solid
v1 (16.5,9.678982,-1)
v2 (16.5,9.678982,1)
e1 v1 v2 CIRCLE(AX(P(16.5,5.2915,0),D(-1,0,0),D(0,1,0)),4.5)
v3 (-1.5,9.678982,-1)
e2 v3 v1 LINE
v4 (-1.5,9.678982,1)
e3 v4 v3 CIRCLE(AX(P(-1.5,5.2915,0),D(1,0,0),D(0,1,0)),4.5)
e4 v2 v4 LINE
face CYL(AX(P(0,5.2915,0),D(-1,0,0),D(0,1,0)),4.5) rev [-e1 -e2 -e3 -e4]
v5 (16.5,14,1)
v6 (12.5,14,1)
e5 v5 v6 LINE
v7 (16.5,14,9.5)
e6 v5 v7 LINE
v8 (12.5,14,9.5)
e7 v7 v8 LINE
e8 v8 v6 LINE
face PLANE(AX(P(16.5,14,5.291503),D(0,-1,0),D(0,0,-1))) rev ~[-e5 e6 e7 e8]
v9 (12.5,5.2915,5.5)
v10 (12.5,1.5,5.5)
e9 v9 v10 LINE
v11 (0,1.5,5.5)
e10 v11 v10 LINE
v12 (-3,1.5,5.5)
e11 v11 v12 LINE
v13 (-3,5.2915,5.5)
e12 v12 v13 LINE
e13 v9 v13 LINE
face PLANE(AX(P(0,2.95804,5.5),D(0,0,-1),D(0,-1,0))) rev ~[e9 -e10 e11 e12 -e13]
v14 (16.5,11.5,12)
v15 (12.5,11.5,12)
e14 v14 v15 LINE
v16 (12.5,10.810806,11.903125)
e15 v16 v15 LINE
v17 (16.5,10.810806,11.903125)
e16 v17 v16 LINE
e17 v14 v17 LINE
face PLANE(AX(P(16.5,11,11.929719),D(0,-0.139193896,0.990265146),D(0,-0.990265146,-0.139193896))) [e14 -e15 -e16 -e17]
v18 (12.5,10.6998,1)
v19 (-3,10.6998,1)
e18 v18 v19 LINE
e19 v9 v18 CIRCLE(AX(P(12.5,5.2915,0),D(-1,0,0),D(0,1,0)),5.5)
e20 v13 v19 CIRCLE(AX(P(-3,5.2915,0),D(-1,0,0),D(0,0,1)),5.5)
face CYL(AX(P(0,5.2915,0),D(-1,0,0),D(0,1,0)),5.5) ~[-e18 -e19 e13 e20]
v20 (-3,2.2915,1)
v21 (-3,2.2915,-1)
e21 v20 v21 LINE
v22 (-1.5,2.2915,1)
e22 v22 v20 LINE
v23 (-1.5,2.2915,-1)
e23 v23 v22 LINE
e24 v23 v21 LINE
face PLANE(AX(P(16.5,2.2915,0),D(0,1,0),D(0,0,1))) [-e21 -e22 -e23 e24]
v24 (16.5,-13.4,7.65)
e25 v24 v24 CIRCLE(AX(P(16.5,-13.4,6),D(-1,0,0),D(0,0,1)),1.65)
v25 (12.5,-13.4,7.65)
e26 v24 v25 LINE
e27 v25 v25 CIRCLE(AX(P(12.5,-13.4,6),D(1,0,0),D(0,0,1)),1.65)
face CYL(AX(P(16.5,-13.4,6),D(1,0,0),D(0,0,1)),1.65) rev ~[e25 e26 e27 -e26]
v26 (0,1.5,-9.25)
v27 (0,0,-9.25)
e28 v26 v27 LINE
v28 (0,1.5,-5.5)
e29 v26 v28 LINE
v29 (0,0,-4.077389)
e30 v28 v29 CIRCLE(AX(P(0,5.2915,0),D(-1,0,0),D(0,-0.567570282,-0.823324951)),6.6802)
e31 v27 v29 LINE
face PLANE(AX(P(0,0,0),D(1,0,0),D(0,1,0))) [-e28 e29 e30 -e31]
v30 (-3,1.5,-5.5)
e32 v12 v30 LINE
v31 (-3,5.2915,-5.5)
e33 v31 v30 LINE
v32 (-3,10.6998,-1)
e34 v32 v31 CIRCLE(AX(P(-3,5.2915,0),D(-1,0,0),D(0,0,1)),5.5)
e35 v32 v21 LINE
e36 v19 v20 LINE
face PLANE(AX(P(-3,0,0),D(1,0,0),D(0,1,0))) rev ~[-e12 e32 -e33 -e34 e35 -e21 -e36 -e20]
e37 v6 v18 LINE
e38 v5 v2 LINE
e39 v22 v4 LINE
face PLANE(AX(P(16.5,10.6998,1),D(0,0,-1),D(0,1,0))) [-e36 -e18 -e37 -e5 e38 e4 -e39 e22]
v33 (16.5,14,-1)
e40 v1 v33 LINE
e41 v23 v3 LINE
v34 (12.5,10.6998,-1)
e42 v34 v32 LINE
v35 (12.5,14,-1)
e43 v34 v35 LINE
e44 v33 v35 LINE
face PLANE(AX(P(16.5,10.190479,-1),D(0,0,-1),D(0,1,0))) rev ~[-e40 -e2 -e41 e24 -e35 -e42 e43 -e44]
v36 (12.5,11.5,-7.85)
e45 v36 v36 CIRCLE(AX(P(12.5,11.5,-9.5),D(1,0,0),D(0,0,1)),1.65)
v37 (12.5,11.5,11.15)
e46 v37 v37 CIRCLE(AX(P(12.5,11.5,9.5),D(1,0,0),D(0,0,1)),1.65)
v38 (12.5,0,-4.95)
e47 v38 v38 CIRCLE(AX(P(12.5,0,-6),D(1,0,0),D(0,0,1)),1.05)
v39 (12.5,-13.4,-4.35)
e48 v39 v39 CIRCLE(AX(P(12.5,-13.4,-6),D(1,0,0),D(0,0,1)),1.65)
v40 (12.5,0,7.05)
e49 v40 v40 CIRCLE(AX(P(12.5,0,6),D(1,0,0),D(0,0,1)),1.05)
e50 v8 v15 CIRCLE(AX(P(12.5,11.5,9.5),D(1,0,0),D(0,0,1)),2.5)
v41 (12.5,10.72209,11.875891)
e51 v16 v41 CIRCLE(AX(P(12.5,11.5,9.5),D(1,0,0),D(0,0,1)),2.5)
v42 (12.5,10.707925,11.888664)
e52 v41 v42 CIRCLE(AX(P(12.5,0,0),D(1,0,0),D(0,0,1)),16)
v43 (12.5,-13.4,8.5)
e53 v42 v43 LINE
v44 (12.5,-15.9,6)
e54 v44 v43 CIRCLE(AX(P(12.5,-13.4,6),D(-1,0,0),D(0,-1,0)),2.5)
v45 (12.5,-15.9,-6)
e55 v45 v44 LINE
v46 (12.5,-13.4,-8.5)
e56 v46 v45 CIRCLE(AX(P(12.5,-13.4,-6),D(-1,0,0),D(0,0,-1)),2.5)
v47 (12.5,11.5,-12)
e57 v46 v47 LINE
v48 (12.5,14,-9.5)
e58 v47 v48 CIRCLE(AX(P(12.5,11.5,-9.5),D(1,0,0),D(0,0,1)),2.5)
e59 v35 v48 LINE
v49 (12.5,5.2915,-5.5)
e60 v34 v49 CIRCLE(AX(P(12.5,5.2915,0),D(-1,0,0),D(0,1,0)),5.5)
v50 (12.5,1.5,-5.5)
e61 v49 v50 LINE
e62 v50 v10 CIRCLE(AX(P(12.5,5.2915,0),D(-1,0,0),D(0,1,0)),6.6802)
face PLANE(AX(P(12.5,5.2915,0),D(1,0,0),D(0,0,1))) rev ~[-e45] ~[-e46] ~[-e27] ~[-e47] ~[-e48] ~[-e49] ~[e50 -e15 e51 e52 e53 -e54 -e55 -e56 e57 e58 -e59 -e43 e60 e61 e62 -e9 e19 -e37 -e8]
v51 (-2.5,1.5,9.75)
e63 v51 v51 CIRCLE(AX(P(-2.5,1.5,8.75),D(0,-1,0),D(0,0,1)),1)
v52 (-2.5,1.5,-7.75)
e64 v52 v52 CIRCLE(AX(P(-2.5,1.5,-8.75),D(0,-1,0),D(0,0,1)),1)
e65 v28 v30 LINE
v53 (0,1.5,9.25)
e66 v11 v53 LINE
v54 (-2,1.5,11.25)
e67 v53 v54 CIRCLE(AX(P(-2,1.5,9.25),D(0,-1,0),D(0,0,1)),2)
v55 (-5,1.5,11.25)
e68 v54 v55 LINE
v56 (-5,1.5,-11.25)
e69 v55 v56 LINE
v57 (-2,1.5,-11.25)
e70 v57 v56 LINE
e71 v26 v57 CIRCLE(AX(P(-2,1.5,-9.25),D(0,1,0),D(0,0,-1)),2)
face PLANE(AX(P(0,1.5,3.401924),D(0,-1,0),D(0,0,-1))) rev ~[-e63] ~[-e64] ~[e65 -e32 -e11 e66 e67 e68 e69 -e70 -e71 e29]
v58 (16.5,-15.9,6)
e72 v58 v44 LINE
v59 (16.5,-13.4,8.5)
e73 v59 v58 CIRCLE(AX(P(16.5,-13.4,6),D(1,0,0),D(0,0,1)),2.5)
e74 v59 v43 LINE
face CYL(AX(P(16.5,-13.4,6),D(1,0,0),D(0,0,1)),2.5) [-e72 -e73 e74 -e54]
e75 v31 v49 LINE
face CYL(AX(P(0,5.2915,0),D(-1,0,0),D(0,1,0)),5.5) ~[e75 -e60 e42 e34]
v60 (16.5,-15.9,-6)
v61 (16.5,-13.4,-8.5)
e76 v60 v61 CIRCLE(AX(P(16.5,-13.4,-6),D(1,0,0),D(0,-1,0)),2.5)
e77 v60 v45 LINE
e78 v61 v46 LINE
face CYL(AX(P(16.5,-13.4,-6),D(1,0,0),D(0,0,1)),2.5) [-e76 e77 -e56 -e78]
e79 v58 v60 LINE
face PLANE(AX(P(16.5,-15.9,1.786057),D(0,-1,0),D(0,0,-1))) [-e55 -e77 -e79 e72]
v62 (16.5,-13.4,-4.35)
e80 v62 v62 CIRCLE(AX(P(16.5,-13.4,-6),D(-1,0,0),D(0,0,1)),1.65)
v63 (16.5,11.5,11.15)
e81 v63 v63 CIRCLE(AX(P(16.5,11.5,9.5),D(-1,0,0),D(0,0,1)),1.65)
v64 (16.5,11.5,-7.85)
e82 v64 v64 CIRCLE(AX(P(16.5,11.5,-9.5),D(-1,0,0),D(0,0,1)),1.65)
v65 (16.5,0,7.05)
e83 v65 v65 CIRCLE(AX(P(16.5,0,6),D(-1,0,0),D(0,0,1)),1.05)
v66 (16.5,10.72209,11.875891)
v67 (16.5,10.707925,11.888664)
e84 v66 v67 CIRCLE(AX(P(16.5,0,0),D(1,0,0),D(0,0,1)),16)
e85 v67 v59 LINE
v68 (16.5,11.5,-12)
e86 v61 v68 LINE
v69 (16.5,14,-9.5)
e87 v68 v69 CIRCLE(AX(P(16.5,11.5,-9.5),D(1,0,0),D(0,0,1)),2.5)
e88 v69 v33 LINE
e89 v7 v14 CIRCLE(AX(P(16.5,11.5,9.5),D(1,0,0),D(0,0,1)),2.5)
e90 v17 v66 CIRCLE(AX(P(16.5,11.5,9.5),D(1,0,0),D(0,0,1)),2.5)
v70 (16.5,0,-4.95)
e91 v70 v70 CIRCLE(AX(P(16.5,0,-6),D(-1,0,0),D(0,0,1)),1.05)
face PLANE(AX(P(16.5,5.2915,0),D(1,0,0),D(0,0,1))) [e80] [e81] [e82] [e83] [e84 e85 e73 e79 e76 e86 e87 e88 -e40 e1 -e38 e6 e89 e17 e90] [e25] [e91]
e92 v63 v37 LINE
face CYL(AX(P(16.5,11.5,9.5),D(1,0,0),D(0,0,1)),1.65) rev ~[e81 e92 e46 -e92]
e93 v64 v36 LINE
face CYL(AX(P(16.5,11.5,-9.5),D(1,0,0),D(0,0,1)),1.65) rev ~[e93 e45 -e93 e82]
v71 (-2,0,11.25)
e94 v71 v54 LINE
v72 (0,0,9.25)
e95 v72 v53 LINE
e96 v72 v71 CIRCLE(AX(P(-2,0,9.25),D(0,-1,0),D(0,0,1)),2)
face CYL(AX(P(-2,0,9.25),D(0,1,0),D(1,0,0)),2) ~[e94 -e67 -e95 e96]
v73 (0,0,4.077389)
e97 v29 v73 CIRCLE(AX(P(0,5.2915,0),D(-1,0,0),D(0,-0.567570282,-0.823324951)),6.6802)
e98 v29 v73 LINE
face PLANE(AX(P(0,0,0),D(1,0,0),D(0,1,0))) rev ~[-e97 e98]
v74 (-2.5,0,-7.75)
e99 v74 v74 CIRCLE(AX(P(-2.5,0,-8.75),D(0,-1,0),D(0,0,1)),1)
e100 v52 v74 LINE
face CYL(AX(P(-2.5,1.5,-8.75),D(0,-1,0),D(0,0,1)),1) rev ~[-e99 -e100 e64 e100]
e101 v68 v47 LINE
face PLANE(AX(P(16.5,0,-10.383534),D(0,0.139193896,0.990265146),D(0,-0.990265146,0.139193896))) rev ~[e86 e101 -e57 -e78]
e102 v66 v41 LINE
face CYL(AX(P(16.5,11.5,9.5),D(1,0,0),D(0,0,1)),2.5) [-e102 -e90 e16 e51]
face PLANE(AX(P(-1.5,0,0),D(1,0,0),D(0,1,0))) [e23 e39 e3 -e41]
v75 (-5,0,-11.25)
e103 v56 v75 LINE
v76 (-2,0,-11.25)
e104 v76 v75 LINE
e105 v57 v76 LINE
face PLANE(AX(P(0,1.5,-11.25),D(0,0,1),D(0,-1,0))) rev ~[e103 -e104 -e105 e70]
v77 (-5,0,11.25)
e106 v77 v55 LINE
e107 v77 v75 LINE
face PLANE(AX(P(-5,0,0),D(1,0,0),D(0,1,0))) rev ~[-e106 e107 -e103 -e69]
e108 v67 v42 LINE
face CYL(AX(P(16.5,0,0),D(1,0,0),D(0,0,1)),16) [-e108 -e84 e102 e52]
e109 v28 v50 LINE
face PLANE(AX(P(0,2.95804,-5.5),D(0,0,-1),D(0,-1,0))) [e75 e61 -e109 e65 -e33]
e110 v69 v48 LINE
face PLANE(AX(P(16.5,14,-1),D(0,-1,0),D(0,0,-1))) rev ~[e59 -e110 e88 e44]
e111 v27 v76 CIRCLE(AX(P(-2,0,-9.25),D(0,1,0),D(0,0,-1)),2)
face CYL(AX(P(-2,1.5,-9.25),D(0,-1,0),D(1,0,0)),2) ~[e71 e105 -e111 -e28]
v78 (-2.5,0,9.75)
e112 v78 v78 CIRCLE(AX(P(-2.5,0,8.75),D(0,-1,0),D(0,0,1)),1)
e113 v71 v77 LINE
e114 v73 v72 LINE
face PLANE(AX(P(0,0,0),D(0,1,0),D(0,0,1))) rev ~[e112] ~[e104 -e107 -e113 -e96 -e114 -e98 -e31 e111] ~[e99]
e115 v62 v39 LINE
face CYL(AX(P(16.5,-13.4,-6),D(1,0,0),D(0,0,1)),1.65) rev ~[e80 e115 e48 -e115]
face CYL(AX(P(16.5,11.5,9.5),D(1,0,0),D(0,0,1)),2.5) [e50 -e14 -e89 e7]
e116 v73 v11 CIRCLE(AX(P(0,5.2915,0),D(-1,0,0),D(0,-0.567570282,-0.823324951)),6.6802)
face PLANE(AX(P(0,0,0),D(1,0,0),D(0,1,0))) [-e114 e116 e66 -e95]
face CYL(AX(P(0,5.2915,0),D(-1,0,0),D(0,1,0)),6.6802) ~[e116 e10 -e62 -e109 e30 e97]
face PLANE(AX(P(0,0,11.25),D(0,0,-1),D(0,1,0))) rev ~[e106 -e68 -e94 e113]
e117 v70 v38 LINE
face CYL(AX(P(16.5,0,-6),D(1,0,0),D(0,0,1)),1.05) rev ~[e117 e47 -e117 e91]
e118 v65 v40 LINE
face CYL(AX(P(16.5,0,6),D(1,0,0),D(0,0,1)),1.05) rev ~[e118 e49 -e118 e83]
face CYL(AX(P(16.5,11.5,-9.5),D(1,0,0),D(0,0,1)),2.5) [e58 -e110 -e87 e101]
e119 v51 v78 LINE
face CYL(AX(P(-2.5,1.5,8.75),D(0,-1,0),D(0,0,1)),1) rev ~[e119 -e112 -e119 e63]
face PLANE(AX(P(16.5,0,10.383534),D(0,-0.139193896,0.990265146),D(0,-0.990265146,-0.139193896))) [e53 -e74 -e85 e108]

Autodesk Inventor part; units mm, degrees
ref_plane "YZ Plane" through (0, 0, 0) normal (1, 0, 0) x (0, 1, 0)
ref_plane "XZ Plane" through (0, 0, 0) normal (0, 1, 0) x (-1, 0, 0)
ref_plane "XY Plane" through (0, 0, 0) normal (0, 0, 1) x (1, 0, 0)
sketch "スケッチ2" plane through (0, 0, 0) normal (0, 1, 0) x (-1, 0, 0)
  line L0 (-32.5, -11.25) -> (32.5, -11.25)
  line L1 (32.5, -11.25) -> (32.5, 11.25)
  line L2 (32.5, 11.25) -> (-32.5, 11.25)
  line L3 (-32.5, 11.25) -> (-32.5, -11.25)
  line L4 (-32.5, -11.25) -> (32.5, 11.25) construction
  line L5 (32.5, -11.25) -> (-32.5, 11.25) construction
  line L6 (-30, -8.75) -> (30, -8.75)
  line L7 (30, -8.75) -> (30, 8.75)
  line L8 (30, 8.75) -> (-30, 8.75)
  line L9 (-30, 8.75) -> (-30, -8.75)
  line L10 (-30, -8.75) -> (30, 8.75) construction
  line L11 (30, -8.75) -> (-30, 8.75) construction
  circle A0 centre (30, 8.75) radius 2.5
  circle A1 centre (30, -8.75) radius 2.5
  circle A2 centre (-30, 8.75) radius 2.5
  circle A3 centre (-30, -8.75) radius 2.5
  line L12 (-115, -18.25) -> (115, -18.25)
  line L13 (115, -18.25) -> (115, 18.25)
  line L14 (115, 18.25) -> (-115, 18.25)
  line L15 (-115, 18.25) -> (-115, -18.25)
  line L16 (-115, -18.25) -> (115, 18.25) construction
  line L17 (115, -18.25) -> (-115, 18.25) construction
  line L18 (-95, -18.25) -> (95, -18.25)
  line L19 (95, -18.25) -> (95, 18.25)
  line L20 (95, 18.25) -> (-95, 18.25)
  line L21 (-95, 18.25) -> (-95, -18.25)
  line L22 (-95, -18.25) -> (95, 18.25) construction
  line L23 (95, -18.25) -> (-95, 18.25) construction
  point P0 (0, 0)
  dimension "d10" = 65
  dimension "d11" = 22.5
  dimension "d12" = 60
  dimension "d13" = 17.5
  dimension "d14" = 230
  dimension "d15" = 36.5
  dimension "d16" = 190
sketch "スケッチ4" plane through (0, 0, 0) normal (1, 0, 0) x (0, 1, 0)
  point P0 (0, 0)
sketch "スケッチ5" plane through (0, 0, 0) normal (1, 0, 0) x (0, 1, 0)
  circle A0 centre (0, 0) radius 18.25
  line L0 (0, 0) -> (0, 6)
  line L1 (0, 6) -> (0, -6)
  circle A1 centre (0, 6) radius 3
  circle A2 centre (0, -6) radius 9
  circle A3 centre (0, 6) radius 9
  circle A4 centre (0, -6) radius 3
  line L2 (0, 6) -> (5.2915, 0)
  circle A5 centre (5.2915, 0) radius 5
  circle A6 centre (5.2915, 0) radius 4.5
  circle A7 centre (5.2915, 0) radius 5.5
  line L3 (0, 0) -> (0, 11.25)
  line L4 (0, 11.25) -> (0, -11.25)
  line L5 (5.2915, 5.5) -> (5.2915, -5.5)
  line L6 (0, 11.25) -> (-1.2, 11.25)
  line L7 (-1.2, 11.25) -> (-1.2, -11.25)
  line L8 (-1.2, -11.25) -> (0, -11.25)
  line L9 (-1.2, 11.25) -> (-9.2, 11.25)
  line L10 (-1.2, -11.25) -> (-9.2, -11.25)
  line L11 (-9.2, -11.25) -> (-9.2, 11.25)
  line L12 (-9.2, 11.25) -> (-10.4, 11.25)
  line L13 (-10.4, 11.25) -> (-10.4, -11.25)
  line L14 (-10.4, -11.25) -> (-9.2, -11.25)
  circle A8 centre (0, 0) radius 16
  line L15 (0, 11.25) -> (1.5, 11.25)
  line L16 (1.5, 11.25) -> (1.5, -11.25)
  line L17 (1.5, -11.25) -> (0, -11.25)
  line L18 (5.2915, 5.5) -> (1.5, 5.5)
  line L19 (5.2915, -5.5) -> (1.5, -5.5)
  circle A9 centre (5.2915, 0) radius 6.6802
  point P0 (0, 1.5)
  point P1 (0, -1.5)
  point P2 (1.5, -3.9843)
  point P3 (1.5, 3.9843)
  dimension "d28" = 36.5
  dimension "d29" = 6
  dimension "d30" = 12
  dimension "d31" = 6
  dimension "d32" = 18
  dimension "d33" = 8
  dimension "d34" = 9
  dimension "d35" = 11
  dimension "d36" = 11.25
  dimension "d37" = 22.5
  dimension "d39" = 1.2
  dimension "d40" = 8
  dimension "d41" = 1.2
  dimension "d42" = 32
  dimension "d43" = 1.5
extrude "押し出し1" add sketch "スケッチ5" against normal blind 5 contours L0 A7 A2 A5 A3 L1 | L0 A2 A7 | A7 A3 L1 | L0 A9 L2 L16 A7 A1 | A1 A7 A2 | A7 A1 L16 A5 A2 | A4 A7 L16 A9 L1 | A3 A7 A4 | A3 A5 L16 A4 A7 | L0 L2 A9 | A7 L16 A1 | A5 L16 A2 | A2 L16 A6 A3 A5 | A9 L16 A4 L4 L1 | A4 L16 A7 | A3 L16 A5 | L3 A1 L16 A9 L2 | A9 L16 L2 | L3 L15 L16 A1 | L16 A6 | A4 L16 L17 L4 picked at (1.4091, -3.6973)
extrude "押し出し2" add sketch "スケッチ5" against normal blind 3 contours L0 A7 A2 A5 A3 L1 | A7 A1 L16 A5 A2 | A3 A5 L16 A4 A7 | A7 L16 A1 | A5 L16 A2 | A2 L16 A6 A3 A5 | A4 L16 A7 | A3 L16 A5 | L16 A7 L2 A1 | A1 A5 L16 | L16 L2 A7 | L16 A5 L2 A6 A2 | A2 A6 L16 | L16 A7 A4 L19 | L16 A5 A4 | A4 A7 L16 | L16 A6 A3 | A3 A6 L5 A5 L16 | L16 L18 A1 A7 L2 | L2 A7 A1 | A5 L5 A6 L2 | A1 A7 L5 A5 | A6 L2 A2 | A2 L2 L5 A3 A6 L16 | L16 A6 | A4 A7 L19 | A5 L5 A7 A4 | A3 L5 A6 | L18 A7 A1 | A6 L5 A2 L2 | L5 A7 A3 A5 | A5 A3 A6 L5 | A2 L5 L2 | L5 A5 A2 A7 | L5 A6 A2 A5 | L5 A2 A3 | A3 A2 A6 L5 | A6 A3 A2 L5 | A5 A2 A6 A3 | A3 A7 A2 A5 | A3 A6 A2
extrude "押し出し3" add sketch "スケッチ5" along normal blind 16.5 contours L1 A7 L0 | L0 A7 A2 A5 A3 L1 | A7 L1 A3 A9 L7 A2 L0 | L0 A2 A7 | A7 A3 L1 | A1 A9 L0 | A2 A9 A1 | L0 A9 L2 L16 A7 A1 | A1 A7 A2 | A7 A1 L16 A5 A2 | A4 A7 L16 A9 L1 | A4 A9 A3 | A3 A7 A4 | L1 A9 A4 | A3 A5 L16 A4 A7 | A7 L16 A1 | A5 L16 A2 | A2 L16 A6 A3 A5 | A4 L16 A7 | A3 L16 A5 | A9 L16 L2 | L16 A7 L2 A1 | A1 A5 L16 | L16 L2 A7 | L7 A9 | L16 A5 L2 A6 A2 | A2 A6 L16 | L16 A7 A4 L19 | L16 A5 A4 | A4 A7 L16 | L16 A6 A3 | A3 A6 L5 A5 L16 | L16 L18 A1 A7 L2 | L2 A7 A1 | A5 L5 A6 L2 | A1 A7 L5 A5 | A6 L2 A2 | A2 L2 L5 A3 A6 L16 | L16 A6 | A4 A7 L19 | A5 L5 A7 A4 | A3 L5 A6 | L18 A7 A1 | A6 L5 A2 L2 | L5 A7 A3 A5 | A5 A3 A6 L5 | A2 L5 L2 | L5 A5 A2 A7 | L5 A6 A2 A5 | L5 A2 A3 | A3 A2 A6 L5 | A6 A3 A2 L5 | A5 A2 A6 A3 | A3 A7 A2 A5 | A3 A6 A2
extrude "押し出し4" cut sketch "スケッチ5" along normal blind 16.5 contours A6 L2 A2 | A2 L2 L5 A3 A6 L16 | L16 A6 | A3 L5 A6 | A6 L5 A2 L2 | A2 L5 L2 | L5 A2 A3 | A3 A2 A6 L5 | A6 A3 A2 L5 | A3 A6 A2
extrude "押し出し5" cut sketch "スケッチ5" against normal blind 1.5 contours A6 L2 A2 | A2 L2 L5 A3 A6 L16 | L16 A6 | A3 L5 A6 | A6 L5 A2 L2 | A2 L5 L2 | L5 A2 A3 | A3 A2 A6 L5 | A6 A3 A2 L5 | A3 A6 A2
sketch "スケッチ6" plane through (16.5, 5.2915, 0) normal (1, 0, 0) x (0, 0, 1)
  line L0 (0, 5.2915) -> (6, 5.2915)
  line L1 (-11.25, 5.2915) -> (11.25, 5.2915) projected
  line L2 (6, 5.2915) -> (-6, 5.2915)
  circle A0 centre (6, 5.2915) radius 1.05
  circle A1 centre (-6, 5.2915) radius 1.05
  circle A2 centre (0, 5.2915) radius 16
  circle A3 centre (0, 0) radius 5
  line L3 (0, 0) -> (0, 3)
  line L4 (0, 3) -> (0, -5.5)
  arc A4 (-5.5, 0) -> (5.5, 0) centre (0, 0) ccw projected
  line L5 (0, 3) -> (1, 3)
  line L6 (1, 3) -> (-1, 3)
  line L7 (-1, 3) -> (-1, -5.4083)
  line L8 (1, 3) -> (1, -5.4083)
  circle A5 centre (6, 5.2915) radius 9
  circle A6 centre (-6, 5.2915) radius 9
  line L9 (0, 5.2915) -> (0, -2.7085)
  circle A7 centre (0, -2.7085) radius 8
  circle A8 centre (6, 5.2915) radius 10
  circle A9 centre (-6, 5.2915) radius 10
  line L10 (0, 5.2915) -> (0, -5.7085)
  line L11 (0, -5.7085) -> (-11.619, -5.7085)
  line L12 (0, -5.7085) -> (11.619, -5.7085)
  line L13 (0, -5.7085) -> (9.5, -5.7085)
  line L14 (9.5, -5.7085) -> (-9.5, -5.7085)
  circle A10 centre (0, 5.2915) radius 18
  line L15 (1, -5.4083) -> (1, -8.2085)
  line L16 (-1, -5.4083) -> (-1, -8.2085)
  line L17 (0, 5.2915) -> (0, 6.4915)
  line L18 (0, 6.4915) -> (0, 14.4915)
  line L19 (0, 14.4915) -> (0, 15.6915)
  line L20 (0, 15.6915) -> (-11.25, 15.6915)
  line L21 (-11.25, 15.6915) -> (11.25, 15.6915)
  line L22 (11.25, 15.6915) -> (11.25, 14.4915)
  line L23 (11.25, 14.4915) -> (0, 14.4915)
  line L24 (-11.25, 14.4915) -> (-11.25, 15.6915)
  line L25 (0, 14.4915) -> (-11.25, 14.4915)
  line L26 (0, 15.6915) -> (8.75, 15.6915)
  line L27 (8.75, 15.6915) -> (-8.75, 15.6915)
  line L28 (11.25, 15.6915) -> (11.25, 17.1915)
  line L29 (11.25, 17.1915) -> (-11.25, 17.1915)
  line L30 (-11.25, 17.1915) -> (-11.25, 15.6915)
  line L31 (6, 17.1915) -> (6, 18.6915)
  line L32 (-6, 17.1915) -> (-6, 18.6915)
  circle A11 centre (6, 18.6915) radius 2.5
  circle A12 centre (-6, 18.6915) radius 2.5
  line L33 (6, 21.1915) -> (-6, 21.1915)
  line L34 (9.5, -5.7085) -> (12, -5.7085)
  line L35 (-9.5, -5.7085) -> (-12, -5.7085)
  line L36 (6, 18.6915) -> (8.5, 18.6915)
  line L37 (-6, 18.6915) -> (-8.5, 18.6915)
  circle A13 centre (0, 0) radius 4.5
  circle A14 centre (-6, 5.2915) radius 1.5
  circle A15 centre (6, 5.2915) radius 1.5
  circle A16 centre (6, 18.6915) radius 1.65
  circle A17 centre (-6, 18.6915) radius 1.65
  line L38 (9.5, -5.7085) -> (9.5, -6.2085)
  line L39 (9.5, -6.2085) -> (-9.5, -6.2085)
  line L40 (-9.5, -6.2085) -> (-9.5, -5.7085)
  circle A18 centre (-9.5, -6.2085) radius 1.65
  circle A19 centre (9.5, -6.2085) radius 1.65
  circle A20 centre (9.5, -6.2085) radius 2.5
  circle A21 centre (-9.5, -6.2085) radius 2.5
  line L41 (-12, -6.2085) -> (-8.5, 18.6915)
  line L42 (12, -6.2085) -> (8.5, 18.6915)
  line L43 (9.5, -8.7085) -> (-9.5, -8.7085)
  line L44 (1, -8.7085) -> (1, -8.0358)
  line L45 (-1, -8.7085) -> (-1, -8.2085)
  point P0 (1, -4.3875)
  point P1 (-1, -4.3875)
  point P2 (-4.4567, 20.6583)
  point P3 (-8.495, 18.8501)
  point P4 (4.4567, 20.6583)
  point P5 (8.495, 18.8501)
  point P6 (1.7861, 21.1915)
  point P7 (-1.7861, 21.1915)
  point P8 (11.9031, -5.5193)
  point P9 (11.8759, -5.4306)
  point P10 (11.8887, -5.4164)
  dimension "d54" = 6
  dimension "d55" = 12
  dimension "d56" = 2.1
  dimension "d57" = 2.1
  dimension "d58" = 32
  dimension "d59" = 10
  dimension "d60" = 3
  dimension "d61" = 1
  dimension "d62" = 2
  dimension "d65" = 18
  dimension "d66" = 18
  dimension "d67" = 8
  dimension "d68" = 11
  dimension "d69" = 9.5
  dimension "d70" = 19
  dimension "d73" = 36
  dimension "d76" = 1.2
  dimension "d77" = 8
  dimension "d78" = 1.2
  dimension "d79" = 8.75
  dimension "d80" = 17.5
  dimension "d81" = 1.5
  dimension "d82" = 1.5
  dimension "d83" = 5
  dimension "d84" = 5
  dimension "d97" = 3
  dimension "d98" = 3
  dimension "d109" = 3.3
  dimension "d110" = 3.3
  dimension "d111" = 0.5
  dimension "d112" = 3.3
  dimension "d113" = 3.3
  dimension "d114" = 5
  dimension "d115" = 5
extrude "押し出し6" cut sketch "スケッチ6" against normal blind 19.5 contours L5 L8 A6 L4 L3 | L3 L4 A5 L7 L6 | L8 A9 A5 A6 | A5 A6 A8 L7 | L8 A5 A9 | A5 A9 L4 | L4 A8 A6 | A8 A6 L7 | L8 A8 A9 A5 | A8 L8 A13 L4 | A9 L7 A6 A8 | L4 A13 L7 A9 | L7 A13 L4 A3 | A3 L4 A4 L7 | L8 A4 L4 A3 | A3 L4 A13 L8
sketch "スケッチ7" plane through (-5, 1.5, -11.25) normal (0, 1, 0) x (1, 0, 0)
  line L0 (0, 0) -> (2.5, 0)
  line L1 (5, 0) -> (0, 0) projected
  line L2 (2.5, 0) -> (2.5, -22.5)
  line L3 (5, -22.5) -> (0, -22.5) projected
  line L4 (2.5, 0) -> (2.5, -2.5)
  line L5 (2.5, -2.5) -> (2.5, -20)
  point P0 (5, -11.25)
  dimension "d87" = 2.5
  dimension "d88" = 17.5
hole "穴1" at (-2.5, 1.5, -8.75) at (-2.5, 1.5, 8.75) direction (0, -1, 0) diameter 2 end through all
fillet "フィレット1" radius 2 2 edges at (0, 0.75, -11.25) (0, 0.75, 11.25)
extrude "押し出し11" add sketch "スケッチ6" against normal blind 4 contours L17 L18 A6 L0 | A7 A5 L1 | A7 A6 A3 L9 | L0 A6 A7 | L9 A3 A5 A7 | L1 A5 L18 L17 | A6 A5 A9 L0 | L0 A9 A7 A6 | A5 A7 A8 L1 | L1 A8 A6 A5 | L9 A13 A5 A3 | A3 A6 A13 L9 | A7 A9 A3 A6 | A5 A3 A8 A7 | A9 A5 L42 L1 A15 L0 | L0 A15 L1 L42 A5 A7 A9 | L18 A9 A5 | A6 A8 L18 | A8 A7 A6 L41 L1 A14 | L1 A14 L41 A6 A8 | A3 A9 A13 A6 | A5 A13 A8 A3 | A7 A5 A3 A9 | A8 A3 A6 A7 | A15 L1 A0 L0 | L0 A0 L1 A15 | A9 A8 L23 L42 A5 | A6 L41 L25 A9 A8 | L18 L23 A8 | A9 L25 L18 | A14 L1 A1 | L1 A1 A14 | A3 A5 A13 A9 | A8 A13 A6 A3 | A7 A21 A9 L41 A6 | A6 A4 A9 A21 A7 | L23 L19 L21 L42 A8 | A8 L42 L23 | L25 L41 A9 | A9 L41 L20 L19 L25 | A6 A13 A9 A3 | A3 A9 A4 A6 | A7 A20 A8 A4 A5 | A5 L42 A8 A20 A7 | A21 A9 A7 | A7 A9 A21 | L20 L41 L29 A12 A11 L42 L21 | A5 A4 A8 A3 | A3 A8 A13 A5 | A9 A13 L7 A3 | A3 L7 A4 A9 | A20 A8 A7 | A7 A8 A20 | A9 A21 A2 L41 | A4 L16 L11 A21 A9 | A9 A21 L11 A7 | A7 L11 A18 A2 A21 A9 | A8 A4 L8 A3 | A3 L8 A13 A8 | A8 A20 L12 L15 A4 | L42 A2 A20 A8 | A8 A20 A2 L12 A19 A7 | A7 L12 A20 A8 | A2 A21 L41 | L11 A21 L39 A7 | A7 L39 A18 L11 | L11 L16 L39 A21 | A2 L35 L41 A21 | L29 A11 L42 | L41 A12 L29 | L12 A19 L39 A7 | A7 L39 A20 L12 | A20 L42 L34 A2 | A20 L39 L15 L12 | L39 A21 A7 | A7 A21 A2 A18 L39 | L39 L16 L45 L43 A7 A21 | L11 A18 A2 | A2 A18 A21 L41 L35 | A11 L29 A16 | L29 A16 L36 A11 | L36 A16 A2 A11 | A12 L37 A17 L29 | L29 A17 A12 | A12 A2 A17 L37 | L39 A19 A2 A20 A7 | A7 A20 L39 | L34 L42 A20 A2 A19 | A2 A19 L12 | A20 A7 L43 L44 L15 L39 | A7 L43 A2 A21 | A2 A16 A11 | A11 A2 A16 L29 | L29 A12 A2 L33 A11 | L29 A17 A2 A12 | A12 A2 A17 | A20 A2 L43 A7 | A2 L43 A21 | A11 A2 L33 | L33 A2 A12 | A20 L43 A2 picked at (5.1751, 14.7127) picked at (-5.1751, 14.7127)
properties part number "ikafly1a"
